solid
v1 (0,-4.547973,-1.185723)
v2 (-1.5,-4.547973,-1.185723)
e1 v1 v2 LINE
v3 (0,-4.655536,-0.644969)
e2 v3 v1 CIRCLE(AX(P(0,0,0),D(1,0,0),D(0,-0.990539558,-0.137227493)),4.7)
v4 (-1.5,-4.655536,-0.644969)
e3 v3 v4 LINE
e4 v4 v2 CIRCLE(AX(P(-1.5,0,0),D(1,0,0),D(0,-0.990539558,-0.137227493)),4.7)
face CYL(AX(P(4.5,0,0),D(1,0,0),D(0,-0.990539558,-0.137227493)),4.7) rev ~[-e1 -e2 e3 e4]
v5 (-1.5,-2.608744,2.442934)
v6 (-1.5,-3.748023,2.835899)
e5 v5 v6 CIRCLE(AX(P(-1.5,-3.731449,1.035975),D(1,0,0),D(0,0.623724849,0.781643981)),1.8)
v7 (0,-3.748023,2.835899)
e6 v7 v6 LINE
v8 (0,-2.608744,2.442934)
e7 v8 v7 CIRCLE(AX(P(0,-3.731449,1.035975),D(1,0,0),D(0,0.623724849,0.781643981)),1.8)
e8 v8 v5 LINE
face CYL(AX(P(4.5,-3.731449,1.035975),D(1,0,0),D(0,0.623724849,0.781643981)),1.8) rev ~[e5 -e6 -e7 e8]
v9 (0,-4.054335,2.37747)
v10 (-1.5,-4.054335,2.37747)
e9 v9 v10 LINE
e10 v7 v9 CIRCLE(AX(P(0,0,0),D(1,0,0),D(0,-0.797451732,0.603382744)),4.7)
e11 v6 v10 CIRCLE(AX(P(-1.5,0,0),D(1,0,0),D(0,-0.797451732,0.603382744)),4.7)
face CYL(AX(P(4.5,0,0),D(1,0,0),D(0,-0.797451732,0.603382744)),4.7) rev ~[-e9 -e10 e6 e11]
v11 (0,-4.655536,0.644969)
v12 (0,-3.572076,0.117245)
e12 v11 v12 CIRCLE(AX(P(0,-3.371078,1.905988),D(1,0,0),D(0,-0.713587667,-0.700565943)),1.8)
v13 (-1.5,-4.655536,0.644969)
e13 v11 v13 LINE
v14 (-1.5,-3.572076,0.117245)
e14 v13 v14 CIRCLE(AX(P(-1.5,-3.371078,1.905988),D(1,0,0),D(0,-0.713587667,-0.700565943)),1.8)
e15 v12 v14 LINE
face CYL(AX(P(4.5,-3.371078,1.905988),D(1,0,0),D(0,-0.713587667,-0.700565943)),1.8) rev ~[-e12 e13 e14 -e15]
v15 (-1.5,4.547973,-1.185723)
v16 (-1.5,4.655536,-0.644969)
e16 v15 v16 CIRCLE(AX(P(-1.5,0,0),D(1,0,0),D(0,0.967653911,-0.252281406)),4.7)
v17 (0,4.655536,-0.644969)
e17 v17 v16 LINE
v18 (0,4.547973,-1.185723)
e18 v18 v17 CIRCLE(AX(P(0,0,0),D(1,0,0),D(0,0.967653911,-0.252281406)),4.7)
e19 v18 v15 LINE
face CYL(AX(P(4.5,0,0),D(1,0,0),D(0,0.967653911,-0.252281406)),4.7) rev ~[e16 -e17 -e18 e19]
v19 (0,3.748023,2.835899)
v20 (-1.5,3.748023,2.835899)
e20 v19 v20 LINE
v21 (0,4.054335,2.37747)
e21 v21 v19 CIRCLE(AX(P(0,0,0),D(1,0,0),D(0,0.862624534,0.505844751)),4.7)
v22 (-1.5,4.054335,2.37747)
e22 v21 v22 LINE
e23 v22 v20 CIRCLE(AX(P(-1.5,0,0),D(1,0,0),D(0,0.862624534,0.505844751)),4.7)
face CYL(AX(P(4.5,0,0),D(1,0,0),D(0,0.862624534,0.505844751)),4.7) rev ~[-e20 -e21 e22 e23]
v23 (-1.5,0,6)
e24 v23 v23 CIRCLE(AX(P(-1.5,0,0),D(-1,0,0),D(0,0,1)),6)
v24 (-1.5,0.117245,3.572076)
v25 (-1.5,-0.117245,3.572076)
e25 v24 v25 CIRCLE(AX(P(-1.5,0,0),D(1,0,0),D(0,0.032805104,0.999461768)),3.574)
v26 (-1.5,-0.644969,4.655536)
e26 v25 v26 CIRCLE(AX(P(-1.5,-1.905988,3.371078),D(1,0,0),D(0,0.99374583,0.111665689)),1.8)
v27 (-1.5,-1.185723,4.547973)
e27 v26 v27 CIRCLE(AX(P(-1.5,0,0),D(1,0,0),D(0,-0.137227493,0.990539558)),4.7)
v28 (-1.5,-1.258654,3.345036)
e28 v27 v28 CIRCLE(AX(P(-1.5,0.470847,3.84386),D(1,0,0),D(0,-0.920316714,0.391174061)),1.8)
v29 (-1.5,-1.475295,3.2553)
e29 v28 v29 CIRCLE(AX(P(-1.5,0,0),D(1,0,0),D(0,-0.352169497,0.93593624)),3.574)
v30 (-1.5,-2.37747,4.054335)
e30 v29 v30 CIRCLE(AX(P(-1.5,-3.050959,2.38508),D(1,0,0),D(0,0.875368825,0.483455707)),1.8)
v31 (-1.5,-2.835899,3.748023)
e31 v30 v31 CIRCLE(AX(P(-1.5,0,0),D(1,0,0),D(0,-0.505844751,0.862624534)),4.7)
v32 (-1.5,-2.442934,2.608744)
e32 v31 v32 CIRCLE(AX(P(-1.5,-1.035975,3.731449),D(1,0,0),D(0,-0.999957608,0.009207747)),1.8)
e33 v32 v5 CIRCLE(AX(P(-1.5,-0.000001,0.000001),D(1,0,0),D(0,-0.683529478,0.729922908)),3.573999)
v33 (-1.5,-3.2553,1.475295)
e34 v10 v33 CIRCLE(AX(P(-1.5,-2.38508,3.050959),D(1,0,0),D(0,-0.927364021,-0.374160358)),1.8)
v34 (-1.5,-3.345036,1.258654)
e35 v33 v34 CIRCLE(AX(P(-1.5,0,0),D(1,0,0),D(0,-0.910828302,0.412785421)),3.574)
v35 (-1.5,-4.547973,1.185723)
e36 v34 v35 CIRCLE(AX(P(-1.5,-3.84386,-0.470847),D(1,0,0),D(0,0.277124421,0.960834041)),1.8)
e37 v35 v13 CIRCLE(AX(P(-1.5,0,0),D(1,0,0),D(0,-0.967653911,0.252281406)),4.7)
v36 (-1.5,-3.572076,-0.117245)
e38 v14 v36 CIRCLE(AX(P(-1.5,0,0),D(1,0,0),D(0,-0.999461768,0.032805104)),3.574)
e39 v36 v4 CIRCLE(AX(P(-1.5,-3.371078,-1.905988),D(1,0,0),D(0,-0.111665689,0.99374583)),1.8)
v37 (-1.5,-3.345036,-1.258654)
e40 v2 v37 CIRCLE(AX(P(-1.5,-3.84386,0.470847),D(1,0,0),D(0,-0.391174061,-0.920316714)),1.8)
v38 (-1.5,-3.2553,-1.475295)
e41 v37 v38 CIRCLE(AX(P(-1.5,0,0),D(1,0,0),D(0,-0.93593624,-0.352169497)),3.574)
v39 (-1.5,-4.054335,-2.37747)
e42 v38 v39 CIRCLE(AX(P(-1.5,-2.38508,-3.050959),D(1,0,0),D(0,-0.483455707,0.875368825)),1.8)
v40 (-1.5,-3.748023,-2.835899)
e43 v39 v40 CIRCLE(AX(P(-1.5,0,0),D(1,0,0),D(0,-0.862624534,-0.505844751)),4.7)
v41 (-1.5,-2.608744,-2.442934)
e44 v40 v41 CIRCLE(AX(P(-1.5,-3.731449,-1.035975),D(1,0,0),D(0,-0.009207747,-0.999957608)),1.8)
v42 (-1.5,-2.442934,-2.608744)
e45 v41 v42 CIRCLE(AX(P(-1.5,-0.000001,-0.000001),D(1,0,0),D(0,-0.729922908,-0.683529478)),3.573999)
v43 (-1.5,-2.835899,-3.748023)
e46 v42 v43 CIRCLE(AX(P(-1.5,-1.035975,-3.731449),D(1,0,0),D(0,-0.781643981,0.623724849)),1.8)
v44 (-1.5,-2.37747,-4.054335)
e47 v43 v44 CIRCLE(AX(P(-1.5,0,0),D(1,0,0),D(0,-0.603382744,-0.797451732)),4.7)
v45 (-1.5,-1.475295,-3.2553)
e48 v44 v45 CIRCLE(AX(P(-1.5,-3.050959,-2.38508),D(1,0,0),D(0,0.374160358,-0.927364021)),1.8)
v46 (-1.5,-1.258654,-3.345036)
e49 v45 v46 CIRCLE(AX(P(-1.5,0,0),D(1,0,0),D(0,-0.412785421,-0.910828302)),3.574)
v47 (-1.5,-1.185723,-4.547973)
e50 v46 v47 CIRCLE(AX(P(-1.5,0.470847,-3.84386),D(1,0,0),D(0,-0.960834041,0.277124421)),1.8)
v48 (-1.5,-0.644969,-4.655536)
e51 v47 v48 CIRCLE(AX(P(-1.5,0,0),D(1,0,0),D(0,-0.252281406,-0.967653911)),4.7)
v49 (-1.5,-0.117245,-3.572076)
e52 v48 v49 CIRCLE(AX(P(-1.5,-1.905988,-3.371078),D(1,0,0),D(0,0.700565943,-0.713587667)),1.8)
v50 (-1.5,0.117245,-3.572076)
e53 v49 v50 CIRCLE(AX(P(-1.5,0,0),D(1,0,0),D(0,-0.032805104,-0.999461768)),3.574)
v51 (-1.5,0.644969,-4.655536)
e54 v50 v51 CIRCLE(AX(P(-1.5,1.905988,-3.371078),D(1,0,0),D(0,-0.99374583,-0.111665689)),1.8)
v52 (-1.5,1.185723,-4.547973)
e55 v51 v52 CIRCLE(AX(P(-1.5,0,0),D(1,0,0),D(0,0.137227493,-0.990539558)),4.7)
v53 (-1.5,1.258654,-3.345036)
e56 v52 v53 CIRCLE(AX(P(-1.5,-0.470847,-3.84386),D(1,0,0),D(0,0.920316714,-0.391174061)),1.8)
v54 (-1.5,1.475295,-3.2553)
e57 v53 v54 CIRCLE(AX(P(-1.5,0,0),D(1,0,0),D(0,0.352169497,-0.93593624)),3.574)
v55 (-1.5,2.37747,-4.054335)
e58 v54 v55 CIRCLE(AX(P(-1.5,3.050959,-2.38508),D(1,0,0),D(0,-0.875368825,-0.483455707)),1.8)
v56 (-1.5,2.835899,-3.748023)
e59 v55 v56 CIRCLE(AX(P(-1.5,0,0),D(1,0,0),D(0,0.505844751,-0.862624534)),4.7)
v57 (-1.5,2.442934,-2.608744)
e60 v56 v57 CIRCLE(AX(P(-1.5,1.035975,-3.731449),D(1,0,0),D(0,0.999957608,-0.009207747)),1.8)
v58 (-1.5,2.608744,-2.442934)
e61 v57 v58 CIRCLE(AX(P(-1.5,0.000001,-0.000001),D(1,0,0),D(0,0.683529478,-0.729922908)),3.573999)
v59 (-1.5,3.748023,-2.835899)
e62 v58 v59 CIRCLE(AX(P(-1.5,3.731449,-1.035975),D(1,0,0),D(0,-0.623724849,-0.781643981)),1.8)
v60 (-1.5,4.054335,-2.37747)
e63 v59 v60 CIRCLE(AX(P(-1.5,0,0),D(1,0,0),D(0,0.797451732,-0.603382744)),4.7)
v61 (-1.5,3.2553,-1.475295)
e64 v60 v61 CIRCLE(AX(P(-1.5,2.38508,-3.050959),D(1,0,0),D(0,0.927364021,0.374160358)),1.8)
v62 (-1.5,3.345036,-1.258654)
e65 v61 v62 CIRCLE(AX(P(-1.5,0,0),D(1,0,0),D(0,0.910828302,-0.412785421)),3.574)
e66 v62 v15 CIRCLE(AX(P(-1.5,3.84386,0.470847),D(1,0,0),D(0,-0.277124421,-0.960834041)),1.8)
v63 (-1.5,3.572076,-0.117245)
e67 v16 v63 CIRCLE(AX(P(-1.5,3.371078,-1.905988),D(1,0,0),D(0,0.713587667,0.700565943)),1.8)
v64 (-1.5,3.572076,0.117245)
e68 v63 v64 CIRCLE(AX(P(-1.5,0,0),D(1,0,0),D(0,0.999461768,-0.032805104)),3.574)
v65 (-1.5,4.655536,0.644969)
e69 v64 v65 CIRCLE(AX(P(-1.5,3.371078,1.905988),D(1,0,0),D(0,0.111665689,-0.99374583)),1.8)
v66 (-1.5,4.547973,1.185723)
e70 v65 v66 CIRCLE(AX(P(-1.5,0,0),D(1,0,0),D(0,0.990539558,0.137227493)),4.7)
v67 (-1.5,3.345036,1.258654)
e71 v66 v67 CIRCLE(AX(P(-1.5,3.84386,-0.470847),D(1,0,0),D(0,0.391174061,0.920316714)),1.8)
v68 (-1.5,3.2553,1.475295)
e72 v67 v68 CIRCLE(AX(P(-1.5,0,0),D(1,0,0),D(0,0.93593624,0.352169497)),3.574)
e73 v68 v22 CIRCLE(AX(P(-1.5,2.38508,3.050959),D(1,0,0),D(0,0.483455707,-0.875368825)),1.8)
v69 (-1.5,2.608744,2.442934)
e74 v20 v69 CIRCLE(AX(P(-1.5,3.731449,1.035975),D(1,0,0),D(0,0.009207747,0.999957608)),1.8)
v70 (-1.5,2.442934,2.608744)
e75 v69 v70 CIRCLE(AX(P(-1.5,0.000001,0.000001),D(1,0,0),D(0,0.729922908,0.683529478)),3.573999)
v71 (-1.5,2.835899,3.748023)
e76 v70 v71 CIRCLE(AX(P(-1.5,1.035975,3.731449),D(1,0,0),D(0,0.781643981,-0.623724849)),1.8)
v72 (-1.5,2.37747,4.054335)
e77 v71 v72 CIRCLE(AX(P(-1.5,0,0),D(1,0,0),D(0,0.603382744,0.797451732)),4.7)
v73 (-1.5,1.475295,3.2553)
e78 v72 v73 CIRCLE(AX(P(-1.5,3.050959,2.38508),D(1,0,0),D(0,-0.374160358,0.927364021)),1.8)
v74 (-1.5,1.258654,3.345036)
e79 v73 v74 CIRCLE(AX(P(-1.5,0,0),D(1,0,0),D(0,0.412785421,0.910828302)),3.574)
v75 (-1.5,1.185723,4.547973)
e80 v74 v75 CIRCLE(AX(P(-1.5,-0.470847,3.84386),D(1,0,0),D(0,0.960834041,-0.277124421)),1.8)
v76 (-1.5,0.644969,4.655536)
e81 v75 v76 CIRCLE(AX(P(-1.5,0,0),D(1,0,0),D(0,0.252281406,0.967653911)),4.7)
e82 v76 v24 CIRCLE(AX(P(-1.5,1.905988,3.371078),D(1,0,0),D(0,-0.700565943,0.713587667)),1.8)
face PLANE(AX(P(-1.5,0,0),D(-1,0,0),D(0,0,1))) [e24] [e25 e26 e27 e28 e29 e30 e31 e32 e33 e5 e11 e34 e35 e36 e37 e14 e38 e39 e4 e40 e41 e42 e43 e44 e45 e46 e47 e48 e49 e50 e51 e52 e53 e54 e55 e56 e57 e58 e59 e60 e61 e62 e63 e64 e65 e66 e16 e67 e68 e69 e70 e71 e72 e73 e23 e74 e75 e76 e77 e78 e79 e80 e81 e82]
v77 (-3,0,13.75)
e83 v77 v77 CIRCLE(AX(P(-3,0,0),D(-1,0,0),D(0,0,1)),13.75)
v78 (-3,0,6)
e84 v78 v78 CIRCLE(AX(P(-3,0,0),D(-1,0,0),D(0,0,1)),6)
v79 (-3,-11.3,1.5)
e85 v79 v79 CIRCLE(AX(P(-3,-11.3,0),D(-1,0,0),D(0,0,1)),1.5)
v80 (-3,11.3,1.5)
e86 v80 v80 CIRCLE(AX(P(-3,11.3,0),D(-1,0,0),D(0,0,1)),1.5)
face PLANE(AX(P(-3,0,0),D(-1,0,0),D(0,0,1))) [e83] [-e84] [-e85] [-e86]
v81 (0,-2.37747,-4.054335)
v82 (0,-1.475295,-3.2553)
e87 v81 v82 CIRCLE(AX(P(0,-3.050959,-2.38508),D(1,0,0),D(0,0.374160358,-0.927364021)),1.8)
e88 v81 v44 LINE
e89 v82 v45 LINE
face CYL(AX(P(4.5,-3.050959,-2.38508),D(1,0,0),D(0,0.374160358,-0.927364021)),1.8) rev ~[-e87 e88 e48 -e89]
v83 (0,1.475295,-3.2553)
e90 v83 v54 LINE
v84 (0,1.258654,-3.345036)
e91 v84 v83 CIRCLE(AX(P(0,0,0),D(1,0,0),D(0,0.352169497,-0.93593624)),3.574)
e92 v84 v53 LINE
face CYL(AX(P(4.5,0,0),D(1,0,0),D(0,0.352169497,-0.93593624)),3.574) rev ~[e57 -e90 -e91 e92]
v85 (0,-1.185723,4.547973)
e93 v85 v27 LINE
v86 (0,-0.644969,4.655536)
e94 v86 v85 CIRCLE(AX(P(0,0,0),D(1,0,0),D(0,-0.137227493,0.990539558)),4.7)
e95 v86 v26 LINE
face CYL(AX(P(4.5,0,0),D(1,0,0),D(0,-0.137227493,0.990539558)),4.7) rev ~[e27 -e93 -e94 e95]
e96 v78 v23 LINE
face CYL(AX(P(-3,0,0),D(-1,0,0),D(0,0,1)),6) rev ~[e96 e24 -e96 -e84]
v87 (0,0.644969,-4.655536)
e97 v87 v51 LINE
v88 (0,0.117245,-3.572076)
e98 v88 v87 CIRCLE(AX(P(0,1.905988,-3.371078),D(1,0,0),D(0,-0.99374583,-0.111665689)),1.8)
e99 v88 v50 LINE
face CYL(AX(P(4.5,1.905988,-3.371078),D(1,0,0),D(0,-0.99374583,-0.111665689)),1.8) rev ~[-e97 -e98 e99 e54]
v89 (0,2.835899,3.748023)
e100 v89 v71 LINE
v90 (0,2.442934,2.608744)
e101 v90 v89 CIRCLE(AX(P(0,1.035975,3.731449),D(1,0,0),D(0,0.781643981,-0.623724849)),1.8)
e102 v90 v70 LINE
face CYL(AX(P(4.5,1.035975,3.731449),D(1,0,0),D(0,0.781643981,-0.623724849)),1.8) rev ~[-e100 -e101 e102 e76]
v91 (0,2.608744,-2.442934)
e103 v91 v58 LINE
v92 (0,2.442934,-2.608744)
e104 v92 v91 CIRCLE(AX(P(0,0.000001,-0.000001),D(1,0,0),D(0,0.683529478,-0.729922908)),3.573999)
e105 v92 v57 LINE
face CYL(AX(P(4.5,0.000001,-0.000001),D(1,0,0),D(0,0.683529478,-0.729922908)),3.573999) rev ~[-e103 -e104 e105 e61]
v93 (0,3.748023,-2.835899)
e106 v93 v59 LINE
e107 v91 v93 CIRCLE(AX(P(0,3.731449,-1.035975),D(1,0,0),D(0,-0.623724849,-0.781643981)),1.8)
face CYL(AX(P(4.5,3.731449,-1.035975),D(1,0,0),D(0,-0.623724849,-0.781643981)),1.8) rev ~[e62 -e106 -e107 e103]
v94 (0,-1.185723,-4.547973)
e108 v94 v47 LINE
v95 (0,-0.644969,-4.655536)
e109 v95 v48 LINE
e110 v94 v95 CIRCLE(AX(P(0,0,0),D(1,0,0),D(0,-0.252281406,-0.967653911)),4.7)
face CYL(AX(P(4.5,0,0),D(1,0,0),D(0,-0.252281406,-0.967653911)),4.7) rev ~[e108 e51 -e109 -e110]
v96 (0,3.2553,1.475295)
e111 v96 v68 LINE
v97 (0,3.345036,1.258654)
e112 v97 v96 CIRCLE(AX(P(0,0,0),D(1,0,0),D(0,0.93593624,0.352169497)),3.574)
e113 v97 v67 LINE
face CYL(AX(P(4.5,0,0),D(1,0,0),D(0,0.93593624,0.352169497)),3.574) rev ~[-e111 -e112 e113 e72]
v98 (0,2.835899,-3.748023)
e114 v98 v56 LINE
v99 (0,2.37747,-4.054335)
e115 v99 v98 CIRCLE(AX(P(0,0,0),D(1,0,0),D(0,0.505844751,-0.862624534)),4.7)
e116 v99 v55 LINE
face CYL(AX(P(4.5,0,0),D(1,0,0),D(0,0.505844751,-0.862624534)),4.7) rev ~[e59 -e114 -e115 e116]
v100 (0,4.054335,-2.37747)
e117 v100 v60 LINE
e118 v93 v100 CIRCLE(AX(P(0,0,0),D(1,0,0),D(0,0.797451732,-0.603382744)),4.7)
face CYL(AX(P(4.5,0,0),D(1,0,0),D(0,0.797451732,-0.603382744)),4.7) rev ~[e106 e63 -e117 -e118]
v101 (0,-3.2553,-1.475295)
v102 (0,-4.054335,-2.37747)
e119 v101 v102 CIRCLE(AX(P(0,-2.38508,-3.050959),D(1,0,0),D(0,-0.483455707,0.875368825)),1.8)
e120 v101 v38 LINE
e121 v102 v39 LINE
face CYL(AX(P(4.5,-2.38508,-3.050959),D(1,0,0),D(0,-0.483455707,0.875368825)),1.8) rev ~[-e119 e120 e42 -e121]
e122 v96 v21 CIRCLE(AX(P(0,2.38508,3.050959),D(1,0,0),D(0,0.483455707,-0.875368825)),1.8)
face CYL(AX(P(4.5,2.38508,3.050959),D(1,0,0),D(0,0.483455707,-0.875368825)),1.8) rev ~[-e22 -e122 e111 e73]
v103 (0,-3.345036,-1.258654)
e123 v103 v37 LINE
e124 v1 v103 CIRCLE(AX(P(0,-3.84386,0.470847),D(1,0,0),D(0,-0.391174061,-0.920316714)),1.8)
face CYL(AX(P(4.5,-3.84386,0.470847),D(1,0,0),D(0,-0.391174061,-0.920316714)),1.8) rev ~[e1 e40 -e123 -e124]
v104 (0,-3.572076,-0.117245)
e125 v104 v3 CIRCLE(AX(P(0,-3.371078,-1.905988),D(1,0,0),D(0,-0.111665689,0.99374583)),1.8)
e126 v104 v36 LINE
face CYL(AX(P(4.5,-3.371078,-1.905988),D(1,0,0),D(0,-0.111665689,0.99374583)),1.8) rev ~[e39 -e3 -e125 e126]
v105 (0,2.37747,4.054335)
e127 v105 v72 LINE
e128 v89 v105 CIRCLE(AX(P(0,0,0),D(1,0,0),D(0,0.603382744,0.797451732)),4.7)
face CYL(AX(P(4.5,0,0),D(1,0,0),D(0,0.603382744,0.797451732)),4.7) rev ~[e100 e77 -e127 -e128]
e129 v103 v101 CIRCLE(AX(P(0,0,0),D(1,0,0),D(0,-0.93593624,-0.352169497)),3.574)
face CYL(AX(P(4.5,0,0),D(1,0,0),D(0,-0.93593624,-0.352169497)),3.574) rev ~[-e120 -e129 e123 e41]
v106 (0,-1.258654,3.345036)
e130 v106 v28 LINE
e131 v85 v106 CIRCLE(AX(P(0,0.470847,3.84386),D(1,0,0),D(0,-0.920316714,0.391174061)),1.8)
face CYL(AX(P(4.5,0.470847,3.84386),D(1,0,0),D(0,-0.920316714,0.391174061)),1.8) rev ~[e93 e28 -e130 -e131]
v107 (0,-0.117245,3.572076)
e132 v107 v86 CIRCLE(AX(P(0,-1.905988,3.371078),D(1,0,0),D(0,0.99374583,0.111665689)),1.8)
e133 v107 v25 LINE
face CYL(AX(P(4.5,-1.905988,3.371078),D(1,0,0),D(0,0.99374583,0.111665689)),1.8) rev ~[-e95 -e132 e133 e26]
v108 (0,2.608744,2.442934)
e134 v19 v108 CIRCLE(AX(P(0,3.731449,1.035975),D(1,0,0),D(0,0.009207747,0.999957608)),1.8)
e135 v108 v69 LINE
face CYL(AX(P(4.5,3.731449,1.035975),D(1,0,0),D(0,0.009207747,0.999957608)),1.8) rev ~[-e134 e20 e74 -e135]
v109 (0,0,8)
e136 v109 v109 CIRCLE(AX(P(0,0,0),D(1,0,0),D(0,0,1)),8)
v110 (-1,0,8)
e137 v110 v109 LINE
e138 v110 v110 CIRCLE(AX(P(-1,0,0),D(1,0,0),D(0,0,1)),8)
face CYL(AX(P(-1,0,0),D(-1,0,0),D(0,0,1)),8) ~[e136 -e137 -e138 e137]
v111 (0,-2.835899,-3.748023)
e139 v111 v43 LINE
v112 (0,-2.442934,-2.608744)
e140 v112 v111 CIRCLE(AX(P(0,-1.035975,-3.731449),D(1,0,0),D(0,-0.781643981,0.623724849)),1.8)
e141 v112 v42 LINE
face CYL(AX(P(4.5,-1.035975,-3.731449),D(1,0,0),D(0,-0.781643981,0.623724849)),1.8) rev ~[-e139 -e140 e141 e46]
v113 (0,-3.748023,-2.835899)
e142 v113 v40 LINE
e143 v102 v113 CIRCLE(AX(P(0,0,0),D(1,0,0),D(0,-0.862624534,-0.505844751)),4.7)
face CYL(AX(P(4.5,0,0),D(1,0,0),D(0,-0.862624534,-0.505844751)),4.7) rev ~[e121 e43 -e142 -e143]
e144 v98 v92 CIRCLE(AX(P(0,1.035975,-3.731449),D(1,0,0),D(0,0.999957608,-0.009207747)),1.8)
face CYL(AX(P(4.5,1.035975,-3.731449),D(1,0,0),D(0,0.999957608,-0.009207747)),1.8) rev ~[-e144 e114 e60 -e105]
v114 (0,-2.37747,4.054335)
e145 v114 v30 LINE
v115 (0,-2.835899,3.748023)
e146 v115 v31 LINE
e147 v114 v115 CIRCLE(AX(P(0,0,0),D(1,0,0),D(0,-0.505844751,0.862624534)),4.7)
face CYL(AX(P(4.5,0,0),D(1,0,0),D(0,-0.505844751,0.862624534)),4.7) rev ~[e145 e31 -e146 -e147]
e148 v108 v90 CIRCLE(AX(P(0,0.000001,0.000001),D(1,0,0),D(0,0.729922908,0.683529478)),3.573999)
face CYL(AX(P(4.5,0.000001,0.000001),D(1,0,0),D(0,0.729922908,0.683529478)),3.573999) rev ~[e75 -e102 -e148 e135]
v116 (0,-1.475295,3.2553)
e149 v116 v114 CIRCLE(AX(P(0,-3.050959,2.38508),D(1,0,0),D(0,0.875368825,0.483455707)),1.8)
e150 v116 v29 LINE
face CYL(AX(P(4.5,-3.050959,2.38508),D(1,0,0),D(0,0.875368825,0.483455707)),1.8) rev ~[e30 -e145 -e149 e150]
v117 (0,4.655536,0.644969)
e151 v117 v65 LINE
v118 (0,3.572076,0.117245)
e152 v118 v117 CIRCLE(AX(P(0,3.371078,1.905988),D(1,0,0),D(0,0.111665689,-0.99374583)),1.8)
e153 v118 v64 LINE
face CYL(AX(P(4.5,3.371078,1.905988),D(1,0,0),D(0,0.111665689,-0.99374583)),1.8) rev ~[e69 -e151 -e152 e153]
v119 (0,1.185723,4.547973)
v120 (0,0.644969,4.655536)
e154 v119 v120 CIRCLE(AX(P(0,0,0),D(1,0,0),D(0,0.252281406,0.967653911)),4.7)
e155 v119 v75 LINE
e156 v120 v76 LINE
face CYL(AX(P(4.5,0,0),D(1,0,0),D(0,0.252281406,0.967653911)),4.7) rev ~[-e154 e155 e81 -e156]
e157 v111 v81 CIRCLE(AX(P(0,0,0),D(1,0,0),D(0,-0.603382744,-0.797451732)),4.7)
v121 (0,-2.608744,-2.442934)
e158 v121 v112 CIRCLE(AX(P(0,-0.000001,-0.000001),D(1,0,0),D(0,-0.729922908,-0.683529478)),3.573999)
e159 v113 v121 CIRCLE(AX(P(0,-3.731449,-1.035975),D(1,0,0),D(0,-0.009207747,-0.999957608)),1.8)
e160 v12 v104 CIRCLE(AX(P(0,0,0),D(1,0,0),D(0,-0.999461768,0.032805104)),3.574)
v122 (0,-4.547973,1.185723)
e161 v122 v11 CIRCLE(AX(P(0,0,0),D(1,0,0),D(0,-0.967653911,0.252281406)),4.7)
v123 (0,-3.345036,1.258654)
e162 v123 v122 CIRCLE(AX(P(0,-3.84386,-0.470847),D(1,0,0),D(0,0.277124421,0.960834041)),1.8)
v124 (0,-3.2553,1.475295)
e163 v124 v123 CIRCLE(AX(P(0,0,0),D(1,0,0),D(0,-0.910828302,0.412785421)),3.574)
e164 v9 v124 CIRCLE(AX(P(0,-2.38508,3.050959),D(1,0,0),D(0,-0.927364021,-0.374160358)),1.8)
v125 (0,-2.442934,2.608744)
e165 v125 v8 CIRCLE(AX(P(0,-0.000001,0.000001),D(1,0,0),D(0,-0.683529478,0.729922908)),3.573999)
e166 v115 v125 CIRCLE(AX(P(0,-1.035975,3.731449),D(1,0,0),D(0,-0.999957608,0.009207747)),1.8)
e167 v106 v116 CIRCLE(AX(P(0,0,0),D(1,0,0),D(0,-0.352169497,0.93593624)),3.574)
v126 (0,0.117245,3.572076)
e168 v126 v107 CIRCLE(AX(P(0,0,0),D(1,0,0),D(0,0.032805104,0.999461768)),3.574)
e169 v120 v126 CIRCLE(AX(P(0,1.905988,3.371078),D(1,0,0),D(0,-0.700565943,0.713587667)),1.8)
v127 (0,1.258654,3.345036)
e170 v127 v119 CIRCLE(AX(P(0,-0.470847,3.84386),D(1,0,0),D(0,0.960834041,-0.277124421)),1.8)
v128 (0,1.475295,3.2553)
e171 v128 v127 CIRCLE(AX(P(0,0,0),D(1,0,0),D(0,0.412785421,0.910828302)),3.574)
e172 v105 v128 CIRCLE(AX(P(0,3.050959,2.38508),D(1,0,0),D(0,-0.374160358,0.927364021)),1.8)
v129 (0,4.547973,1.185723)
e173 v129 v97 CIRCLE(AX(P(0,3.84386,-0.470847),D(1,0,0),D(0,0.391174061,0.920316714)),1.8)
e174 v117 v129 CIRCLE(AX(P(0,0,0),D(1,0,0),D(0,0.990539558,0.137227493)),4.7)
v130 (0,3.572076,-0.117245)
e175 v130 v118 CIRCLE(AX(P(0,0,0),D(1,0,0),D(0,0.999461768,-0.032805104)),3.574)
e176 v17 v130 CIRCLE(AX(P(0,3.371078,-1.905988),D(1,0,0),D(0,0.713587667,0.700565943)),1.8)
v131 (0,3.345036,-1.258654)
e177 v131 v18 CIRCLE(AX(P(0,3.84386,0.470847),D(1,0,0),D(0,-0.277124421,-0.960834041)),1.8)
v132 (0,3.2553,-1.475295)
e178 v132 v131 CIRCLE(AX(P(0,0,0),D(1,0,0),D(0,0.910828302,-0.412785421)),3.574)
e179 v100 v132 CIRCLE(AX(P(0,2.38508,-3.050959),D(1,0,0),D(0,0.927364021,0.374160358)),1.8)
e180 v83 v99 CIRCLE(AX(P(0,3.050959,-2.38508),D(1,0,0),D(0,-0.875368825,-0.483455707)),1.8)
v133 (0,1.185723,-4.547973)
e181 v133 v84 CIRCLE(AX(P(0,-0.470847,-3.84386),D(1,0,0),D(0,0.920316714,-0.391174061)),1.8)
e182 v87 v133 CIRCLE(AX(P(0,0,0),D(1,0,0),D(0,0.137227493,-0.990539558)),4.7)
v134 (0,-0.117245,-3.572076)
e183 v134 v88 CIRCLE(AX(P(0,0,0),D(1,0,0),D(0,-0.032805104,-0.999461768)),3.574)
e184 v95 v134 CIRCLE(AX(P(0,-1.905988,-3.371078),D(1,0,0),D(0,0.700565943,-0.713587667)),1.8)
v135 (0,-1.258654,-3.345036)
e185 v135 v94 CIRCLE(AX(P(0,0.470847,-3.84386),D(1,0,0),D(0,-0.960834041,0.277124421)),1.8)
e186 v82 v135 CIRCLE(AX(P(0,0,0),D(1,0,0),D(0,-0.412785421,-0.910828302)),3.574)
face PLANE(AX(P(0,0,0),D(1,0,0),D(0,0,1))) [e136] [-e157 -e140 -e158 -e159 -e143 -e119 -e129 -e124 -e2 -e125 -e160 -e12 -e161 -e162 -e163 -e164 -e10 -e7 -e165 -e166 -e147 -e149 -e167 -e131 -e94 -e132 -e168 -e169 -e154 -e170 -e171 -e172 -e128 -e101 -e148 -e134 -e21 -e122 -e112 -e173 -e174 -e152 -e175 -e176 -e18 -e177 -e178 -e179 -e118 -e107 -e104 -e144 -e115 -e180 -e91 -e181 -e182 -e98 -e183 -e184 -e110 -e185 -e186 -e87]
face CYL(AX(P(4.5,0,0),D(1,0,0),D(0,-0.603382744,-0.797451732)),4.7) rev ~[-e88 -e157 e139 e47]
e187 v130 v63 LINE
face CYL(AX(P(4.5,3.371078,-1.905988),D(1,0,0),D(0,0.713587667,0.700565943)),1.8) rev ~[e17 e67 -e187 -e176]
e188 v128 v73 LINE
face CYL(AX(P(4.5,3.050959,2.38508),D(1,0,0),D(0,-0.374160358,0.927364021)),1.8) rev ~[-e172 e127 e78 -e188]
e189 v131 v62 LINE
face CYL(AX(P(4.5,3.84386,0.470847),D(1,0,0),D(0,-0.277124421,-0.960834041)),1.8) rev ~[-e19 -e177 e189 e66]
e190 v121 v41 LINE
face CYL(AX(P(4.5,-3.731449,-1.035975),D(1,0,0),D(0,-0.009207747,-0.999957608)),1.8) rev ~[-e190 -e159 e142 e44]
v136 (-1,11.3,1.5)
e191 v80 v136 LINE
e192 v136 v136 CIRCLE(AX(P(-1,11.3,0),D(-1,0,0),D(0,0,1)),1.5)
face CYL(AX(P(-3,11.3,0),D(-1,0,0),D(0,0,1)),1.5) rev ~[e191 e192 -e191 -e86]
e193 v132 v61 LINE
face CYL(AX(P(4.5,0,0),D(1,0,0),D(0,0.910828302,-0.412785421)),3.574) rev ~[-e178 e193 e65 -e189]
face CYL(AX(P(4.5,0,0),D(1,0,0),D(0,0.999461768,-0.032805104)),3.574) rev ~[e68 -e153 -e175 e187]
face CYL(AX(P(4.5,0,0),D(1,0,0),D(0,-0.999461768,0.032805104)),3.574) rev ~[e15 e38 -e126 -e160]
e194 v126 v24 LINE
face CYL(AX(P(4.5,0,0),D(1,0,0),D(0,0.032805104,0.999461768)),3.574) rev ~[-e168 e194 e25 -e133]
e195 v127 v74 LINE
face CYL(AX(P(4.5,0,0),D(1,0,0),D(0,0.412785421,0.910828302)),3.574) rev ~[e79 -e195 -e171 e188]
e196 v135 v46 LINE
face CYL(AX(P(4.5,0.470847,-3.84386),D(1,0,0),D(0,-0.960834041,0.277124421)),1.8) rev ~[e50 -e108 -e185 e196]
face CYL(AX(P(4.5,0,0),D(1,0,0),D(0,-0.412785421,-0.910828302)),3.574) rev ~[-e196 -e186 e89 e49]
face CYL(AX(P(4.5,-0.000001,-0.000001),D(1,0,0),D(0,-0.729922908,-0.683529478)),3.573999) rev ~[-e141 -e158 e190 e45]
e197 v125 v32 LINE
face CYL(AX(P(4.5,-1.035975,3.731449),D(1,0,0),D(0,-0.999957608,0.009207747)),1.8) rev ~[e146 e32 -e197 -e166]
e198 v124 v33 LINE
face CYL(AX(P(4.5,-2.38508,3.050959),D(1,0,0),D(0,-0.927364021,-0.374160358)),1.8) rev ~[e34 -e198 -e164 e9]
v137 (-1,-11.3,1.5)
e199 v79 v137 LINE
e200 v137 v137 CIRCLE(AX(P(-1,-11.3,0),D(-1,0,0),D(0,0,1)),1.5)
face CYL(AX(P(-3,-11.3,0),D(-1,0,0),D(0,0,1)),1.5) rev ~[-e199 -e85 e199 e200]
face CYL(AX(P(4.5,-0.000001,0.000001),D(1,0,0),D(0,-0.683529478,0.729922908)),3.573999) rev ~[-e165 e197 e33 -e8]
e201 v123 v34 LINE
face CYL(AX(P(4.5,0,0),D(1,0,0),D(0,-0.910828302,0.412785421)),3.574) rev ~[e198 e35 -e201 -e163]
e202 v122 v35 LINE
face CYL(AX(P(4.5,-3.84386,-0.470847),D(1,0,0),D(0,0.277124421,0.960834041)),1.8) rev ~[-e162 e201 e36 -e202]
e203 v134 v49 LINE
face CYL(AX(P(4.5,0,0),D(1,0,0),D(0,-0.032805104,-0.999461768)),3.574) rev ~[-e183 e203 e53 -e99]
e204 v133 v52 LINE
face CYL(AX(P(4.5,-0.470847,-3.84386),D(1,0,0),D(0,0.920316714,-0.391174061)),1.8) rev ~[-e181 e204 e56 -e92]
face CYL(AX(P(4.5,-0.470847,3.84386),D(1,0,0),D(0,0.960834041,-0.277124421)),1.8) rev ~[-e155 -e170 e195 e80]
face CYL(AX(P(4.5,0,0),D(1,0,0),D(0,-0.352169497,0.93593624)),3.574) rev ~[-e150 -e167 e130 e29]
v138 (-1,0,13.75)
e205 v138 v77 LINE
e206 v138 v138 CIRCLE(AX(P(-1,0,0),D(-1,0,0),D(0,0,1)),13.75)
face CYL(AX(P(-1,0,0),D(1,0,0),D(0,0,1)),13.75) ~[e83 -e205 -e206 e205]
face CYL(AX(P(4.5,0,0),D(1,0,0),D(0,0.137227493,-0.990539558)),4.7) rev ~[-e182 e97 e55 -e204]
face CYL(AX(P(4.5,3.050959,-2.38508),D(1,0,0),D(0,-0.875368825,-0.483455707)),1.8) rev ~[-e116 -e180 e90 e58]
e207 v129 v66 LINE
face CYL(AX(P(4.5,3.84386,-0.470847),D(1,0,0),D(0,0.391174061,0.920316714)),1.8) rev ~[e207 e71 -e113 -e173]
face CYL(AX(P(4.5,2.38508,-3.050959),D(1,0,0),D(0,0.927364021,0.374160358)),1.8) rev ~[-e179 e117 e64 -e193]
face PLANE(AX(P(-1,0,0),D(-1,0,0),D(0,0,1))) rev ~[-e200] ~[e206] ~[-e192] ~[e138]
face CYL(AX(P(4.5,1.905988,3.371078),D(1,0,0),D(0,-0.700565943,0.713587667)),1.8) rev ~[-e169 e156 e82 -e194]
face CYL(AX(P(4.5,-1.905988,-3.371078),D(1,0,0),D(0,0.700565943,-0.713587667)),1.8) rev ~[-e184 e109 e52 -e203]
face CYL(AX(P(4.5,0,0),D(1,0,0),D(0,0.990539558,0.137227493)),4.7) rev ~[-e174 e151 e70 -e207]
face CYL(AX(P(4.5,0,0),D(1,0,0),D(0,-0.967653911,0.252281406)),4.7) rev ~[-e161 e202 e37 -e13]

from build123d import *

# Parameters (mm, degrees)
BASPROSKE_W             = 7.5
BASPROSKE_H             = 4.5
TOOTHCUT_DEPTH          = 10.836157786
TEETHCUTS_COUNT         = 16
TEETHCUTS_ANGLE         = 337.5
BORSKE_R                = 2.5
BORE_DEPTH              = 50.0000508
ESQUISSE4_R             = 6
BOSS_EXTRU_3_DEPTH      = 1
ESQUISSE5_R             = 6.027848577
ESQUISSE5_R_2           = 2.85
BOSS_EXTRU_4_DEPTH      = 1
ESQUISSE7_R             = 3.00711341
BOSS_EXTRU_6_DEPTH      = 8.5
ESQUISSE9_R             = 13.75
ESQUISSE9_R_2           = 5.5
BOSS_EXTRU_8_DEPTH      = 2
ESQUISSE10_R            = 1.5
ENL_V_MAT_EXTRU_3_DEPTH = 23.591480695
ESQUISSE11_R            = 3
ENL_V_MAT_EXTRU_4_DEPTH = 4
BOSS_EXTRU_9_START      = 4
ESQUISSE12_R            = 3
BOSS_EXTRU_9_DEPTH      = 4
ESQUISSE13_R            = 5.5
BOSS_EXTRU_10_DEPTH     = 2
ESQUISSE16_R            = 8
BOSS_EXTRU_11_DEPTH     = 1
ESQUISSE14_R            = 6
ENL_V_MAT_EXTRU_5_DEPTH = 1.5
ESQUISSE15_R            = 3.25
ENL_V_MAT_EXTRU_6_DEPTH = 4.5
ENL_V_START             = -4
ESQUISSE17_R            = 6.027848577
ENL_V_MAT_EXTRU_7_DEPTH = 4
ENL_V_MAT_EXTRU_8_DEPTH = 6


with BuildPart() as part:
    # BasProSke → Base-Revolve (revolve)
    with BuildSketch(Plane(origin=(0, 0, 0), x_dir=(1, 0, 0), z_dir=(0, 1, 0)), mode=Mode.PRIVATE) as base_revolve_sk:
        with Locations((3.75, 2.25)):
            Rectangle(BASPROSKE_W, BASPROSKE_H)
    revolve(base_revolve_sk.sketch.rotate(Axis((-10, 0, 0), (1, 0, 0)), 180), axis=Axis((-10, 0, 0), (1, 0, 0)))

    # TooCutSke → ToothCut (cut, through all)
    with BuildSketch(Plane(origin=(0, 0, 0), x_dir=(0, 0, -1), z_dir=(1, 0, 0))):
        with BuildLine():
            ThreePointArc((0.306025637, 3.360092902), (0, 3.374), (-0.306025637, 3.360092902))
            ThreePointArc((-0.306025637, 3.360092902), (-0.415941512, 3.953968919), (-0.738171669, 4.464789776))
            ThreePointArc((-0.738171669, 4.464789776), (0, 4.5254), (0.738171669, 4.464789776))
            ThreePointArc((0.738171669, 4.464789776), (0.415941512, 3.953968919), (0.306025637, 3.360092902))
        make_face()
    toothcut = extrude(amount=TOOTHCUT_DEPTH, mode=Mode.SUBTRACT)

    # TeethCuts: ToothCut ×16 about axis
    teethcuts_axis = Axis((-10, 0, 0), (1, 0, 0))
    for i in range(1, TEETHCUTS_COUNT):
        add(toothcut.rotate(teethcuts_axis, i * TEETHCUTS_ANGLE / (TEETHCUTS_COUNT - 1)), mode=Mode.SUBTRACT)

    # BorSke → Bore (cut, symmetric)
    with BuildSketch(Plane(origin=(0, 0, 0), x_dir=(0, 0, -1), z_dir=(1, 0, 0))):
        with Locations(Location((0, 0, 0), (0, 0, 180))):
            Circle(BORSKE_R)
    extrude(amount=BORE_DEPTH, both=True, mode=Mode.SUBTRACT)

    # Esquisse4 → Boss.-Extru.3 (add)
    with BuildSketch(Plane.ZY):
        Circle(ESQUISSE4_R)
    extrude(amount=BOSS_EXTRU_3_DEPTH)

    # Esquisse5 → Boss.-Extru.4 (add)
    with BuildSketch(Plane(origin=(7.5, 0, 0), x_dir=(0, 0, -1), z_dir=(1, 0, 0))):
        Circle(ESQUISSE5_R)
        Circle(ESQUISSE5_R_2, mode=Mode.SUBTRACT)
    extrude(amount=BOSS_EXTRU_4_DEPTH)

    # Esquisse7 → Boss.-Extru.6 (add)
    with BuildSketch(Plane(origin=(0, 0, 0), x_dir=(0, 0, -1), z_dir=(1, 0, 0))):
        Circle(ESQUISSE7_R)
    extrude(amount=BOSS_EXTRU_6_DEPTH)

    # Esquisse9 → Boss.-Extru.8 (add)
    with BuildSketch(Plane.ZY.offset(1)):
        Circle(ESQUISSE9_R)
        Circle(ESQUISSE9_R_2, mode=Mode.SUBTRACT)
    extrude(amount=BOSS_EXTRU_8_DEPTH)

    # Esquisse10 → Enlèv. mat.-Extru.3 (cut, through all)
    with BuildSketch(Plane.ZY.offset(3)):
        with Locations((0, 11.3)):
            Circle(ESQUISSE10_R)
        with Locations((0, -11.3)):
            Circle(ESQUISSE10_R)
    extrude(amount=-ENL_V_MAT_EXTRU_3_DEPTH, mode=Mode.SUBTRACT)

    # Esquisse11 → Enlèv. mat.-Extru.4 (cut)
    with BuildSketch(Plane.ZY.offset(1)):
        Circle(ESQUISSE11_R)
    extrude(amount=-ENL_V_MAT_EXTRU_4_DEPTH, mode=Mode.SUBTRACT)

    # Esquisse12 → Boss.-Extru.9 (add)
    with BuildSketch(Plane.ZY.offset(-3).offset(BOSS_EXTRU_9_START)):
        Circle(ESQUISSE12_R)
    extrude(amount=-BOSS_EXTRU_9_DEPTH)

    # Esquisse13 → Boss.-Extru.10 (add)
    with BuildSketch(Plane.ZY.offset(1)):
        Circle(ESQUISSE13_R)
    extrude(amount=BOSS_EXTRU_10_DEPTH)

    # Esquisse16 → Boss.-Extru.11 (add)
    with BuildSketch(Plane(origin=(-1, 0, 0), x_dir=(0, 0, -1), z_dir=(1, 0, 0))):
        with Locations(Location((0, 0, 0), (0, 0, 180))):
            Circle(ESQUISSE16_R)
    extrude(amount=BOSS_EXTRU_11_DEPTH)

    # Esquisse14 → Enlèv. mat.-Extru.5 (cut)
    with BuildSketch(Plane.ZY.offset(3)):
        Circle(ESQUISSE14_R)
    extrude(amount=-ENL_V_MAT_EXTRU_5_DEPTH, mode=Mode.SUBTRACT)

    # Esquisse15 → Enlèv. mat.-Extru.6 (cut)
    with BuildSketch(Plane.ZY.offset(1.5)):
        Circle(ESQUISSE15_R)
    extrude(amount=-ENL_V_MAT_EXTRU_6_DEPTH, mode=Mode.SUBTRACT)

    # Esquisse17 → Enlèv. mat.-Extru.7 (cut)
    with BuildSketch(Plane(origin=(8.5, 0, 0), x_dir=(0, 0, -1), z_dir=(1, 0, 0)).offset(ENL_V_START)):
        Circle(ESQUISSE17_R)
    extrude(amount=ENL_V_MAT_EXTRU_7_DEPTH, mode=Mode.SUBTRACT)

    # Esquisse18 → Enlèv. mat.-Extru.8 (cut)
    with BuildSketch(Plane(origin=(4.5, 0, 0), x_dir=(0, 0, -1), z_dir=(1, 0, 0))):
        with BuildLine():
            ThreePointArc((3.572076358, 0.117245432), (4.159283684, 0.287738258), (4.655535919, 0.644969227))
            ThreePointArc((4.655535919, 0.644969227), (4.609690818, 0.916924513), (4.547973386, 1.185722597))
            ThreePointArc((4.547973386, 1.185722597), (3.952789729, 1.325853469), (3.34503612, 1.258653786))
            ThreePointArc((3.34503612, 1.258653786), (3.301945449, 1.367710587), (3.255300351, 1.475295097))
            ThreePointArc((3.255300351, 1.475295097), (3.732564401, 1.857524443), (4.054335311, 2.377470333))
            ThreePointArc((4.054335311, 2.377470333), (3.907907178, 2.611180095), (3.748023133, 2.835898905))
            ThreePointArc((3.748023133, 2.835898905), (3.144519371, 2.737596024), (2.608744456, 2.442934375))
            ThreePointArc((2.608744456, 2.442934375), (2.527199636, 2.527199636), (2.442934375, 2.608744456))
            ThreePointArc((2.442934375, 2.608744456), (2.737596024, 3.144519371), (2.835898905, 3.748023133))
            ThreePointArc((2.835898905, 3.748023133), (2.611180095, 3.907907178), (2.377470333, 4.054335311))
            ThreePointArc((2.377470333, 4.054335311), (1.857524443, 3.732564401), (1.475295097, 3.255300351))
            ThreePointArc((1.475295097, 3.255300351), (1.367710587, 3.301945449), (1.258653786, 3.34503612))
            ThreePointArc((1.258653786, 3.34503612), (1.325853469, 3.952789729), (1.185722597, 4.547973386))
            ThreePointArc((1.185722597, 4.547973386), (0.916924513, 4.609690818), (0.644969227, 4.655535919))
            ThreePointArc((0.644969227, 4.655535919), (0.287738258, 4.159283684), (0.117245432, 3.572076358))
            ThreePointArc((0.117245432, 3.572076358), (0, 3.574), (-0.117245432, 3.572076358))
            ThreePointArc((-0.117245432, 3.572076358), (-0.287738258, 4.159283684), (-0.644969227, 4.655535919))
            ThreePointArc((-0.644969227, 4.655535919), (-0.916924513, 4.609690818), (-1.185722597, 4.547973386))
            ThreePointArc((-1.185722597, 4.547973386), (-1.325853469, 3.952789729), (-1.258653786, 3.34503612))
            ThreePointArc((-1.258653786, 3.34503612), (-1.367710587, 3.301945449), (-1.475295097, 3.255300351))
            ThreePointArc((-1.475295097, 3.255300351), (-1.857524443, 3.732564401), (-2.377470333, 4.054335311))
            ThreePointArc((-2.377470333, 4.054335311), (-2.611180095, 3.907907178), (-2.835898905, 3.748023133))
            ThreePointArc((-2.835898905, 3.748023133), (-2.737596024, 3.144519371), (-2.442934375, 2.608744456))
            ThreePointArc((-2.442934375, 2.608744456), (-2.527199636, 2.527199636), (-2.608744456, 2.442934375))
            ThreePointArc((-2.608744456, 2.442934375), (-3.144519371, 2.737596024), (-3.748023133, 2.835898905))
            ThreePointArc((-3.748023133, 2.835898905), (-3.907907178, 2.611180095), (-4.054335311, 2.377470333))
            ThreePointArc((-4.054335311, 2.377470333), (-3.732564401, 1.857524443), (-3.255300351, 1.475295097))
            ThreePointArc((-3.255300351, 1.475295097), (-3.301945449, 1.367710587), (-3.34503612, 1.258653786))
            ThreePointArc((-3.34503612, 1.258653786), (-3.952789729, 1.325853469), (-4.547973386, 1.185722597))
            ThreePointArc((-4.547973386, 1.185722597), (-4.609690818, 0.916924513), (-4.655535919, 0.644969227))
            ThreePointArc((-4.655535919, 0.644969227), (-4.159283684, 0.287738258), (-3.572076358, 0.117245432))
            ThreePointArc((-3.572076358, 0.117245432), (-3.574, 0), (-3.572076358, -0.117245432))
            ThreePointArc((-3.572076358, -0.117245432), (-4.159283684, -0.287738258), (-4.655535919, -0.644969227))
            ThreePointArc((-4.655535919, -0.644969227), (-4.609690818, -0.916924513), (-4.547973386, -1.185722597))
            ThreePointArc((-4.547973386, -1.185722597), (-3.952789729, -1.325853469), (-3.34503612, -1.258653786))
            ThreePointArc((-3.34503612, -1.258653786), (-3.301945449, -1.367710587), (-3.255300351, -1.475295097))
            ThreePointArc((-3.255300351, -1.475295097), (-3.732564401, -1.857524443), (-4.054335311, -2.377470333))
            ThreePointArc((-4.054335311, -2.377470333), (-3.907907178, -2.611180095), (-3.748023133, -2.835898905))
            ThreePointArc((-3.748023133, -2.835898905), (-3.144519371, -2.737596024), (-2.608744456, -2.442934375))
            ThreePointArc((-2.608744456, -2.442934375), (-2.527199636, -2.527199636), (-2.442934375, -2.608744456))
            ThreePointArc((-2.442934375, -2.608744456), (-2.737596024, -3.144519371), (-2.835898905, -3.748023133))
            ThreePointArc((-2.835898905, -3.748023133), (-2.611180095, -3.907907178), (-2.377470333, -4.054335311))
            ThreePointArc((-2.377470333, -4.054335311), (-1.857524443, -3.732564401), (-1.475295097, -3.255300351))
            ThreePointArc((-1.475295097, -3.255300351), (-1.367710587, -3.301945449), (-1.258653786, -3.34503612))
            ThreePointArc((-1.258653786, -3.34503612), (-1.325853469, -3.952789729), (-1.185722597, -4.547973386))
            ThreePointArc((-1.185722597, -4.547973386), (-0.916924513, -4.609690818), (-0.644969227, -4.655535919))
            ThreePointArc((-0.644969227, -4.655535919), (-0.287738258, -4.159283684), (-0.117245432, -3.572076358))
            ThreePointArc((-0.117245432, -3.572076358), (0, -3.574), (0.117245432, -3.572076358))
            ThreePointArc((0.117245432, -3.572076358), (0.287738258, -4.159283684), (0.644969227, -4.655535919))
            ThreePointArc((0.644969227, -4.655535919), (0.916924513, -4.609690818), (1.185722597, -4.547973386))
            ThreePointArc((1.185722597, -4.547973386), (1.325853469, -3.952789729), (1.258653786, -3.34503612))
            ThreePointArc((1.258653786, -3.34503612), (1.367710587, -3.301945449), (1.475295097, -3.255300351))
            ThreePointArc((1.475295097, -3.255300351), (1.857524443, -3.732564401), (2.377470333, -4.054335311))
            ThreePointArc((2.377470333, -4.054335311), (2.611180095, -3.907907178), (2.835898905, -3.748023133))
            ThreePointArc((2.835898905, -3.748023133), (2.737596024, -3.144519371), (2.442934375, -2.608744456))
            ThreePointArc((2.442934375, -2.608744456), (2.527199636, -2.527199636), (2.608744456, -2.442934375))
            ThreePointArc((2.608744456, -2.442934375), (3.144519371, -2.737596024), (3.748023133, -2.835898905))
            ThreePointArc((3.748023133, -2.835898905), (3.907907178, -2.611180095), (4.054335311, -2.377470333))
            ThreePointArc((4.054335311, -2.377470333), (3.732564401, -1.857524443), (3.255300351, -1.475295097))
            ThreePointArc((3.255300351, -1.475295097), (3.301945449, -1.367710587), (3.34503612, -1.258653786))
            ThreePointArc((3.34503612, -1.258653786), (3.952789729, -1.325853469), (4.547973386, -1.185722597))
            ThreePointArc((4.547973386, -1.185722597), (4.609690818, -0.916924513), (4.655535919, -0.644969227))
            ThreePointArc((4.655535919, -0.644969227), (4.159283684, -0.287738258), (3.572076358, -0.117245432))
            ThreePointArc((3.572076358, -0.117245432), (3.574, 0), (3.572076358, 0.117245432))
        make_face()
    extrude(amount=-ENL_V_MAT_EXTRU_8_DEPTH, mode=Mode.SUBTRACT)


solid = part.part
